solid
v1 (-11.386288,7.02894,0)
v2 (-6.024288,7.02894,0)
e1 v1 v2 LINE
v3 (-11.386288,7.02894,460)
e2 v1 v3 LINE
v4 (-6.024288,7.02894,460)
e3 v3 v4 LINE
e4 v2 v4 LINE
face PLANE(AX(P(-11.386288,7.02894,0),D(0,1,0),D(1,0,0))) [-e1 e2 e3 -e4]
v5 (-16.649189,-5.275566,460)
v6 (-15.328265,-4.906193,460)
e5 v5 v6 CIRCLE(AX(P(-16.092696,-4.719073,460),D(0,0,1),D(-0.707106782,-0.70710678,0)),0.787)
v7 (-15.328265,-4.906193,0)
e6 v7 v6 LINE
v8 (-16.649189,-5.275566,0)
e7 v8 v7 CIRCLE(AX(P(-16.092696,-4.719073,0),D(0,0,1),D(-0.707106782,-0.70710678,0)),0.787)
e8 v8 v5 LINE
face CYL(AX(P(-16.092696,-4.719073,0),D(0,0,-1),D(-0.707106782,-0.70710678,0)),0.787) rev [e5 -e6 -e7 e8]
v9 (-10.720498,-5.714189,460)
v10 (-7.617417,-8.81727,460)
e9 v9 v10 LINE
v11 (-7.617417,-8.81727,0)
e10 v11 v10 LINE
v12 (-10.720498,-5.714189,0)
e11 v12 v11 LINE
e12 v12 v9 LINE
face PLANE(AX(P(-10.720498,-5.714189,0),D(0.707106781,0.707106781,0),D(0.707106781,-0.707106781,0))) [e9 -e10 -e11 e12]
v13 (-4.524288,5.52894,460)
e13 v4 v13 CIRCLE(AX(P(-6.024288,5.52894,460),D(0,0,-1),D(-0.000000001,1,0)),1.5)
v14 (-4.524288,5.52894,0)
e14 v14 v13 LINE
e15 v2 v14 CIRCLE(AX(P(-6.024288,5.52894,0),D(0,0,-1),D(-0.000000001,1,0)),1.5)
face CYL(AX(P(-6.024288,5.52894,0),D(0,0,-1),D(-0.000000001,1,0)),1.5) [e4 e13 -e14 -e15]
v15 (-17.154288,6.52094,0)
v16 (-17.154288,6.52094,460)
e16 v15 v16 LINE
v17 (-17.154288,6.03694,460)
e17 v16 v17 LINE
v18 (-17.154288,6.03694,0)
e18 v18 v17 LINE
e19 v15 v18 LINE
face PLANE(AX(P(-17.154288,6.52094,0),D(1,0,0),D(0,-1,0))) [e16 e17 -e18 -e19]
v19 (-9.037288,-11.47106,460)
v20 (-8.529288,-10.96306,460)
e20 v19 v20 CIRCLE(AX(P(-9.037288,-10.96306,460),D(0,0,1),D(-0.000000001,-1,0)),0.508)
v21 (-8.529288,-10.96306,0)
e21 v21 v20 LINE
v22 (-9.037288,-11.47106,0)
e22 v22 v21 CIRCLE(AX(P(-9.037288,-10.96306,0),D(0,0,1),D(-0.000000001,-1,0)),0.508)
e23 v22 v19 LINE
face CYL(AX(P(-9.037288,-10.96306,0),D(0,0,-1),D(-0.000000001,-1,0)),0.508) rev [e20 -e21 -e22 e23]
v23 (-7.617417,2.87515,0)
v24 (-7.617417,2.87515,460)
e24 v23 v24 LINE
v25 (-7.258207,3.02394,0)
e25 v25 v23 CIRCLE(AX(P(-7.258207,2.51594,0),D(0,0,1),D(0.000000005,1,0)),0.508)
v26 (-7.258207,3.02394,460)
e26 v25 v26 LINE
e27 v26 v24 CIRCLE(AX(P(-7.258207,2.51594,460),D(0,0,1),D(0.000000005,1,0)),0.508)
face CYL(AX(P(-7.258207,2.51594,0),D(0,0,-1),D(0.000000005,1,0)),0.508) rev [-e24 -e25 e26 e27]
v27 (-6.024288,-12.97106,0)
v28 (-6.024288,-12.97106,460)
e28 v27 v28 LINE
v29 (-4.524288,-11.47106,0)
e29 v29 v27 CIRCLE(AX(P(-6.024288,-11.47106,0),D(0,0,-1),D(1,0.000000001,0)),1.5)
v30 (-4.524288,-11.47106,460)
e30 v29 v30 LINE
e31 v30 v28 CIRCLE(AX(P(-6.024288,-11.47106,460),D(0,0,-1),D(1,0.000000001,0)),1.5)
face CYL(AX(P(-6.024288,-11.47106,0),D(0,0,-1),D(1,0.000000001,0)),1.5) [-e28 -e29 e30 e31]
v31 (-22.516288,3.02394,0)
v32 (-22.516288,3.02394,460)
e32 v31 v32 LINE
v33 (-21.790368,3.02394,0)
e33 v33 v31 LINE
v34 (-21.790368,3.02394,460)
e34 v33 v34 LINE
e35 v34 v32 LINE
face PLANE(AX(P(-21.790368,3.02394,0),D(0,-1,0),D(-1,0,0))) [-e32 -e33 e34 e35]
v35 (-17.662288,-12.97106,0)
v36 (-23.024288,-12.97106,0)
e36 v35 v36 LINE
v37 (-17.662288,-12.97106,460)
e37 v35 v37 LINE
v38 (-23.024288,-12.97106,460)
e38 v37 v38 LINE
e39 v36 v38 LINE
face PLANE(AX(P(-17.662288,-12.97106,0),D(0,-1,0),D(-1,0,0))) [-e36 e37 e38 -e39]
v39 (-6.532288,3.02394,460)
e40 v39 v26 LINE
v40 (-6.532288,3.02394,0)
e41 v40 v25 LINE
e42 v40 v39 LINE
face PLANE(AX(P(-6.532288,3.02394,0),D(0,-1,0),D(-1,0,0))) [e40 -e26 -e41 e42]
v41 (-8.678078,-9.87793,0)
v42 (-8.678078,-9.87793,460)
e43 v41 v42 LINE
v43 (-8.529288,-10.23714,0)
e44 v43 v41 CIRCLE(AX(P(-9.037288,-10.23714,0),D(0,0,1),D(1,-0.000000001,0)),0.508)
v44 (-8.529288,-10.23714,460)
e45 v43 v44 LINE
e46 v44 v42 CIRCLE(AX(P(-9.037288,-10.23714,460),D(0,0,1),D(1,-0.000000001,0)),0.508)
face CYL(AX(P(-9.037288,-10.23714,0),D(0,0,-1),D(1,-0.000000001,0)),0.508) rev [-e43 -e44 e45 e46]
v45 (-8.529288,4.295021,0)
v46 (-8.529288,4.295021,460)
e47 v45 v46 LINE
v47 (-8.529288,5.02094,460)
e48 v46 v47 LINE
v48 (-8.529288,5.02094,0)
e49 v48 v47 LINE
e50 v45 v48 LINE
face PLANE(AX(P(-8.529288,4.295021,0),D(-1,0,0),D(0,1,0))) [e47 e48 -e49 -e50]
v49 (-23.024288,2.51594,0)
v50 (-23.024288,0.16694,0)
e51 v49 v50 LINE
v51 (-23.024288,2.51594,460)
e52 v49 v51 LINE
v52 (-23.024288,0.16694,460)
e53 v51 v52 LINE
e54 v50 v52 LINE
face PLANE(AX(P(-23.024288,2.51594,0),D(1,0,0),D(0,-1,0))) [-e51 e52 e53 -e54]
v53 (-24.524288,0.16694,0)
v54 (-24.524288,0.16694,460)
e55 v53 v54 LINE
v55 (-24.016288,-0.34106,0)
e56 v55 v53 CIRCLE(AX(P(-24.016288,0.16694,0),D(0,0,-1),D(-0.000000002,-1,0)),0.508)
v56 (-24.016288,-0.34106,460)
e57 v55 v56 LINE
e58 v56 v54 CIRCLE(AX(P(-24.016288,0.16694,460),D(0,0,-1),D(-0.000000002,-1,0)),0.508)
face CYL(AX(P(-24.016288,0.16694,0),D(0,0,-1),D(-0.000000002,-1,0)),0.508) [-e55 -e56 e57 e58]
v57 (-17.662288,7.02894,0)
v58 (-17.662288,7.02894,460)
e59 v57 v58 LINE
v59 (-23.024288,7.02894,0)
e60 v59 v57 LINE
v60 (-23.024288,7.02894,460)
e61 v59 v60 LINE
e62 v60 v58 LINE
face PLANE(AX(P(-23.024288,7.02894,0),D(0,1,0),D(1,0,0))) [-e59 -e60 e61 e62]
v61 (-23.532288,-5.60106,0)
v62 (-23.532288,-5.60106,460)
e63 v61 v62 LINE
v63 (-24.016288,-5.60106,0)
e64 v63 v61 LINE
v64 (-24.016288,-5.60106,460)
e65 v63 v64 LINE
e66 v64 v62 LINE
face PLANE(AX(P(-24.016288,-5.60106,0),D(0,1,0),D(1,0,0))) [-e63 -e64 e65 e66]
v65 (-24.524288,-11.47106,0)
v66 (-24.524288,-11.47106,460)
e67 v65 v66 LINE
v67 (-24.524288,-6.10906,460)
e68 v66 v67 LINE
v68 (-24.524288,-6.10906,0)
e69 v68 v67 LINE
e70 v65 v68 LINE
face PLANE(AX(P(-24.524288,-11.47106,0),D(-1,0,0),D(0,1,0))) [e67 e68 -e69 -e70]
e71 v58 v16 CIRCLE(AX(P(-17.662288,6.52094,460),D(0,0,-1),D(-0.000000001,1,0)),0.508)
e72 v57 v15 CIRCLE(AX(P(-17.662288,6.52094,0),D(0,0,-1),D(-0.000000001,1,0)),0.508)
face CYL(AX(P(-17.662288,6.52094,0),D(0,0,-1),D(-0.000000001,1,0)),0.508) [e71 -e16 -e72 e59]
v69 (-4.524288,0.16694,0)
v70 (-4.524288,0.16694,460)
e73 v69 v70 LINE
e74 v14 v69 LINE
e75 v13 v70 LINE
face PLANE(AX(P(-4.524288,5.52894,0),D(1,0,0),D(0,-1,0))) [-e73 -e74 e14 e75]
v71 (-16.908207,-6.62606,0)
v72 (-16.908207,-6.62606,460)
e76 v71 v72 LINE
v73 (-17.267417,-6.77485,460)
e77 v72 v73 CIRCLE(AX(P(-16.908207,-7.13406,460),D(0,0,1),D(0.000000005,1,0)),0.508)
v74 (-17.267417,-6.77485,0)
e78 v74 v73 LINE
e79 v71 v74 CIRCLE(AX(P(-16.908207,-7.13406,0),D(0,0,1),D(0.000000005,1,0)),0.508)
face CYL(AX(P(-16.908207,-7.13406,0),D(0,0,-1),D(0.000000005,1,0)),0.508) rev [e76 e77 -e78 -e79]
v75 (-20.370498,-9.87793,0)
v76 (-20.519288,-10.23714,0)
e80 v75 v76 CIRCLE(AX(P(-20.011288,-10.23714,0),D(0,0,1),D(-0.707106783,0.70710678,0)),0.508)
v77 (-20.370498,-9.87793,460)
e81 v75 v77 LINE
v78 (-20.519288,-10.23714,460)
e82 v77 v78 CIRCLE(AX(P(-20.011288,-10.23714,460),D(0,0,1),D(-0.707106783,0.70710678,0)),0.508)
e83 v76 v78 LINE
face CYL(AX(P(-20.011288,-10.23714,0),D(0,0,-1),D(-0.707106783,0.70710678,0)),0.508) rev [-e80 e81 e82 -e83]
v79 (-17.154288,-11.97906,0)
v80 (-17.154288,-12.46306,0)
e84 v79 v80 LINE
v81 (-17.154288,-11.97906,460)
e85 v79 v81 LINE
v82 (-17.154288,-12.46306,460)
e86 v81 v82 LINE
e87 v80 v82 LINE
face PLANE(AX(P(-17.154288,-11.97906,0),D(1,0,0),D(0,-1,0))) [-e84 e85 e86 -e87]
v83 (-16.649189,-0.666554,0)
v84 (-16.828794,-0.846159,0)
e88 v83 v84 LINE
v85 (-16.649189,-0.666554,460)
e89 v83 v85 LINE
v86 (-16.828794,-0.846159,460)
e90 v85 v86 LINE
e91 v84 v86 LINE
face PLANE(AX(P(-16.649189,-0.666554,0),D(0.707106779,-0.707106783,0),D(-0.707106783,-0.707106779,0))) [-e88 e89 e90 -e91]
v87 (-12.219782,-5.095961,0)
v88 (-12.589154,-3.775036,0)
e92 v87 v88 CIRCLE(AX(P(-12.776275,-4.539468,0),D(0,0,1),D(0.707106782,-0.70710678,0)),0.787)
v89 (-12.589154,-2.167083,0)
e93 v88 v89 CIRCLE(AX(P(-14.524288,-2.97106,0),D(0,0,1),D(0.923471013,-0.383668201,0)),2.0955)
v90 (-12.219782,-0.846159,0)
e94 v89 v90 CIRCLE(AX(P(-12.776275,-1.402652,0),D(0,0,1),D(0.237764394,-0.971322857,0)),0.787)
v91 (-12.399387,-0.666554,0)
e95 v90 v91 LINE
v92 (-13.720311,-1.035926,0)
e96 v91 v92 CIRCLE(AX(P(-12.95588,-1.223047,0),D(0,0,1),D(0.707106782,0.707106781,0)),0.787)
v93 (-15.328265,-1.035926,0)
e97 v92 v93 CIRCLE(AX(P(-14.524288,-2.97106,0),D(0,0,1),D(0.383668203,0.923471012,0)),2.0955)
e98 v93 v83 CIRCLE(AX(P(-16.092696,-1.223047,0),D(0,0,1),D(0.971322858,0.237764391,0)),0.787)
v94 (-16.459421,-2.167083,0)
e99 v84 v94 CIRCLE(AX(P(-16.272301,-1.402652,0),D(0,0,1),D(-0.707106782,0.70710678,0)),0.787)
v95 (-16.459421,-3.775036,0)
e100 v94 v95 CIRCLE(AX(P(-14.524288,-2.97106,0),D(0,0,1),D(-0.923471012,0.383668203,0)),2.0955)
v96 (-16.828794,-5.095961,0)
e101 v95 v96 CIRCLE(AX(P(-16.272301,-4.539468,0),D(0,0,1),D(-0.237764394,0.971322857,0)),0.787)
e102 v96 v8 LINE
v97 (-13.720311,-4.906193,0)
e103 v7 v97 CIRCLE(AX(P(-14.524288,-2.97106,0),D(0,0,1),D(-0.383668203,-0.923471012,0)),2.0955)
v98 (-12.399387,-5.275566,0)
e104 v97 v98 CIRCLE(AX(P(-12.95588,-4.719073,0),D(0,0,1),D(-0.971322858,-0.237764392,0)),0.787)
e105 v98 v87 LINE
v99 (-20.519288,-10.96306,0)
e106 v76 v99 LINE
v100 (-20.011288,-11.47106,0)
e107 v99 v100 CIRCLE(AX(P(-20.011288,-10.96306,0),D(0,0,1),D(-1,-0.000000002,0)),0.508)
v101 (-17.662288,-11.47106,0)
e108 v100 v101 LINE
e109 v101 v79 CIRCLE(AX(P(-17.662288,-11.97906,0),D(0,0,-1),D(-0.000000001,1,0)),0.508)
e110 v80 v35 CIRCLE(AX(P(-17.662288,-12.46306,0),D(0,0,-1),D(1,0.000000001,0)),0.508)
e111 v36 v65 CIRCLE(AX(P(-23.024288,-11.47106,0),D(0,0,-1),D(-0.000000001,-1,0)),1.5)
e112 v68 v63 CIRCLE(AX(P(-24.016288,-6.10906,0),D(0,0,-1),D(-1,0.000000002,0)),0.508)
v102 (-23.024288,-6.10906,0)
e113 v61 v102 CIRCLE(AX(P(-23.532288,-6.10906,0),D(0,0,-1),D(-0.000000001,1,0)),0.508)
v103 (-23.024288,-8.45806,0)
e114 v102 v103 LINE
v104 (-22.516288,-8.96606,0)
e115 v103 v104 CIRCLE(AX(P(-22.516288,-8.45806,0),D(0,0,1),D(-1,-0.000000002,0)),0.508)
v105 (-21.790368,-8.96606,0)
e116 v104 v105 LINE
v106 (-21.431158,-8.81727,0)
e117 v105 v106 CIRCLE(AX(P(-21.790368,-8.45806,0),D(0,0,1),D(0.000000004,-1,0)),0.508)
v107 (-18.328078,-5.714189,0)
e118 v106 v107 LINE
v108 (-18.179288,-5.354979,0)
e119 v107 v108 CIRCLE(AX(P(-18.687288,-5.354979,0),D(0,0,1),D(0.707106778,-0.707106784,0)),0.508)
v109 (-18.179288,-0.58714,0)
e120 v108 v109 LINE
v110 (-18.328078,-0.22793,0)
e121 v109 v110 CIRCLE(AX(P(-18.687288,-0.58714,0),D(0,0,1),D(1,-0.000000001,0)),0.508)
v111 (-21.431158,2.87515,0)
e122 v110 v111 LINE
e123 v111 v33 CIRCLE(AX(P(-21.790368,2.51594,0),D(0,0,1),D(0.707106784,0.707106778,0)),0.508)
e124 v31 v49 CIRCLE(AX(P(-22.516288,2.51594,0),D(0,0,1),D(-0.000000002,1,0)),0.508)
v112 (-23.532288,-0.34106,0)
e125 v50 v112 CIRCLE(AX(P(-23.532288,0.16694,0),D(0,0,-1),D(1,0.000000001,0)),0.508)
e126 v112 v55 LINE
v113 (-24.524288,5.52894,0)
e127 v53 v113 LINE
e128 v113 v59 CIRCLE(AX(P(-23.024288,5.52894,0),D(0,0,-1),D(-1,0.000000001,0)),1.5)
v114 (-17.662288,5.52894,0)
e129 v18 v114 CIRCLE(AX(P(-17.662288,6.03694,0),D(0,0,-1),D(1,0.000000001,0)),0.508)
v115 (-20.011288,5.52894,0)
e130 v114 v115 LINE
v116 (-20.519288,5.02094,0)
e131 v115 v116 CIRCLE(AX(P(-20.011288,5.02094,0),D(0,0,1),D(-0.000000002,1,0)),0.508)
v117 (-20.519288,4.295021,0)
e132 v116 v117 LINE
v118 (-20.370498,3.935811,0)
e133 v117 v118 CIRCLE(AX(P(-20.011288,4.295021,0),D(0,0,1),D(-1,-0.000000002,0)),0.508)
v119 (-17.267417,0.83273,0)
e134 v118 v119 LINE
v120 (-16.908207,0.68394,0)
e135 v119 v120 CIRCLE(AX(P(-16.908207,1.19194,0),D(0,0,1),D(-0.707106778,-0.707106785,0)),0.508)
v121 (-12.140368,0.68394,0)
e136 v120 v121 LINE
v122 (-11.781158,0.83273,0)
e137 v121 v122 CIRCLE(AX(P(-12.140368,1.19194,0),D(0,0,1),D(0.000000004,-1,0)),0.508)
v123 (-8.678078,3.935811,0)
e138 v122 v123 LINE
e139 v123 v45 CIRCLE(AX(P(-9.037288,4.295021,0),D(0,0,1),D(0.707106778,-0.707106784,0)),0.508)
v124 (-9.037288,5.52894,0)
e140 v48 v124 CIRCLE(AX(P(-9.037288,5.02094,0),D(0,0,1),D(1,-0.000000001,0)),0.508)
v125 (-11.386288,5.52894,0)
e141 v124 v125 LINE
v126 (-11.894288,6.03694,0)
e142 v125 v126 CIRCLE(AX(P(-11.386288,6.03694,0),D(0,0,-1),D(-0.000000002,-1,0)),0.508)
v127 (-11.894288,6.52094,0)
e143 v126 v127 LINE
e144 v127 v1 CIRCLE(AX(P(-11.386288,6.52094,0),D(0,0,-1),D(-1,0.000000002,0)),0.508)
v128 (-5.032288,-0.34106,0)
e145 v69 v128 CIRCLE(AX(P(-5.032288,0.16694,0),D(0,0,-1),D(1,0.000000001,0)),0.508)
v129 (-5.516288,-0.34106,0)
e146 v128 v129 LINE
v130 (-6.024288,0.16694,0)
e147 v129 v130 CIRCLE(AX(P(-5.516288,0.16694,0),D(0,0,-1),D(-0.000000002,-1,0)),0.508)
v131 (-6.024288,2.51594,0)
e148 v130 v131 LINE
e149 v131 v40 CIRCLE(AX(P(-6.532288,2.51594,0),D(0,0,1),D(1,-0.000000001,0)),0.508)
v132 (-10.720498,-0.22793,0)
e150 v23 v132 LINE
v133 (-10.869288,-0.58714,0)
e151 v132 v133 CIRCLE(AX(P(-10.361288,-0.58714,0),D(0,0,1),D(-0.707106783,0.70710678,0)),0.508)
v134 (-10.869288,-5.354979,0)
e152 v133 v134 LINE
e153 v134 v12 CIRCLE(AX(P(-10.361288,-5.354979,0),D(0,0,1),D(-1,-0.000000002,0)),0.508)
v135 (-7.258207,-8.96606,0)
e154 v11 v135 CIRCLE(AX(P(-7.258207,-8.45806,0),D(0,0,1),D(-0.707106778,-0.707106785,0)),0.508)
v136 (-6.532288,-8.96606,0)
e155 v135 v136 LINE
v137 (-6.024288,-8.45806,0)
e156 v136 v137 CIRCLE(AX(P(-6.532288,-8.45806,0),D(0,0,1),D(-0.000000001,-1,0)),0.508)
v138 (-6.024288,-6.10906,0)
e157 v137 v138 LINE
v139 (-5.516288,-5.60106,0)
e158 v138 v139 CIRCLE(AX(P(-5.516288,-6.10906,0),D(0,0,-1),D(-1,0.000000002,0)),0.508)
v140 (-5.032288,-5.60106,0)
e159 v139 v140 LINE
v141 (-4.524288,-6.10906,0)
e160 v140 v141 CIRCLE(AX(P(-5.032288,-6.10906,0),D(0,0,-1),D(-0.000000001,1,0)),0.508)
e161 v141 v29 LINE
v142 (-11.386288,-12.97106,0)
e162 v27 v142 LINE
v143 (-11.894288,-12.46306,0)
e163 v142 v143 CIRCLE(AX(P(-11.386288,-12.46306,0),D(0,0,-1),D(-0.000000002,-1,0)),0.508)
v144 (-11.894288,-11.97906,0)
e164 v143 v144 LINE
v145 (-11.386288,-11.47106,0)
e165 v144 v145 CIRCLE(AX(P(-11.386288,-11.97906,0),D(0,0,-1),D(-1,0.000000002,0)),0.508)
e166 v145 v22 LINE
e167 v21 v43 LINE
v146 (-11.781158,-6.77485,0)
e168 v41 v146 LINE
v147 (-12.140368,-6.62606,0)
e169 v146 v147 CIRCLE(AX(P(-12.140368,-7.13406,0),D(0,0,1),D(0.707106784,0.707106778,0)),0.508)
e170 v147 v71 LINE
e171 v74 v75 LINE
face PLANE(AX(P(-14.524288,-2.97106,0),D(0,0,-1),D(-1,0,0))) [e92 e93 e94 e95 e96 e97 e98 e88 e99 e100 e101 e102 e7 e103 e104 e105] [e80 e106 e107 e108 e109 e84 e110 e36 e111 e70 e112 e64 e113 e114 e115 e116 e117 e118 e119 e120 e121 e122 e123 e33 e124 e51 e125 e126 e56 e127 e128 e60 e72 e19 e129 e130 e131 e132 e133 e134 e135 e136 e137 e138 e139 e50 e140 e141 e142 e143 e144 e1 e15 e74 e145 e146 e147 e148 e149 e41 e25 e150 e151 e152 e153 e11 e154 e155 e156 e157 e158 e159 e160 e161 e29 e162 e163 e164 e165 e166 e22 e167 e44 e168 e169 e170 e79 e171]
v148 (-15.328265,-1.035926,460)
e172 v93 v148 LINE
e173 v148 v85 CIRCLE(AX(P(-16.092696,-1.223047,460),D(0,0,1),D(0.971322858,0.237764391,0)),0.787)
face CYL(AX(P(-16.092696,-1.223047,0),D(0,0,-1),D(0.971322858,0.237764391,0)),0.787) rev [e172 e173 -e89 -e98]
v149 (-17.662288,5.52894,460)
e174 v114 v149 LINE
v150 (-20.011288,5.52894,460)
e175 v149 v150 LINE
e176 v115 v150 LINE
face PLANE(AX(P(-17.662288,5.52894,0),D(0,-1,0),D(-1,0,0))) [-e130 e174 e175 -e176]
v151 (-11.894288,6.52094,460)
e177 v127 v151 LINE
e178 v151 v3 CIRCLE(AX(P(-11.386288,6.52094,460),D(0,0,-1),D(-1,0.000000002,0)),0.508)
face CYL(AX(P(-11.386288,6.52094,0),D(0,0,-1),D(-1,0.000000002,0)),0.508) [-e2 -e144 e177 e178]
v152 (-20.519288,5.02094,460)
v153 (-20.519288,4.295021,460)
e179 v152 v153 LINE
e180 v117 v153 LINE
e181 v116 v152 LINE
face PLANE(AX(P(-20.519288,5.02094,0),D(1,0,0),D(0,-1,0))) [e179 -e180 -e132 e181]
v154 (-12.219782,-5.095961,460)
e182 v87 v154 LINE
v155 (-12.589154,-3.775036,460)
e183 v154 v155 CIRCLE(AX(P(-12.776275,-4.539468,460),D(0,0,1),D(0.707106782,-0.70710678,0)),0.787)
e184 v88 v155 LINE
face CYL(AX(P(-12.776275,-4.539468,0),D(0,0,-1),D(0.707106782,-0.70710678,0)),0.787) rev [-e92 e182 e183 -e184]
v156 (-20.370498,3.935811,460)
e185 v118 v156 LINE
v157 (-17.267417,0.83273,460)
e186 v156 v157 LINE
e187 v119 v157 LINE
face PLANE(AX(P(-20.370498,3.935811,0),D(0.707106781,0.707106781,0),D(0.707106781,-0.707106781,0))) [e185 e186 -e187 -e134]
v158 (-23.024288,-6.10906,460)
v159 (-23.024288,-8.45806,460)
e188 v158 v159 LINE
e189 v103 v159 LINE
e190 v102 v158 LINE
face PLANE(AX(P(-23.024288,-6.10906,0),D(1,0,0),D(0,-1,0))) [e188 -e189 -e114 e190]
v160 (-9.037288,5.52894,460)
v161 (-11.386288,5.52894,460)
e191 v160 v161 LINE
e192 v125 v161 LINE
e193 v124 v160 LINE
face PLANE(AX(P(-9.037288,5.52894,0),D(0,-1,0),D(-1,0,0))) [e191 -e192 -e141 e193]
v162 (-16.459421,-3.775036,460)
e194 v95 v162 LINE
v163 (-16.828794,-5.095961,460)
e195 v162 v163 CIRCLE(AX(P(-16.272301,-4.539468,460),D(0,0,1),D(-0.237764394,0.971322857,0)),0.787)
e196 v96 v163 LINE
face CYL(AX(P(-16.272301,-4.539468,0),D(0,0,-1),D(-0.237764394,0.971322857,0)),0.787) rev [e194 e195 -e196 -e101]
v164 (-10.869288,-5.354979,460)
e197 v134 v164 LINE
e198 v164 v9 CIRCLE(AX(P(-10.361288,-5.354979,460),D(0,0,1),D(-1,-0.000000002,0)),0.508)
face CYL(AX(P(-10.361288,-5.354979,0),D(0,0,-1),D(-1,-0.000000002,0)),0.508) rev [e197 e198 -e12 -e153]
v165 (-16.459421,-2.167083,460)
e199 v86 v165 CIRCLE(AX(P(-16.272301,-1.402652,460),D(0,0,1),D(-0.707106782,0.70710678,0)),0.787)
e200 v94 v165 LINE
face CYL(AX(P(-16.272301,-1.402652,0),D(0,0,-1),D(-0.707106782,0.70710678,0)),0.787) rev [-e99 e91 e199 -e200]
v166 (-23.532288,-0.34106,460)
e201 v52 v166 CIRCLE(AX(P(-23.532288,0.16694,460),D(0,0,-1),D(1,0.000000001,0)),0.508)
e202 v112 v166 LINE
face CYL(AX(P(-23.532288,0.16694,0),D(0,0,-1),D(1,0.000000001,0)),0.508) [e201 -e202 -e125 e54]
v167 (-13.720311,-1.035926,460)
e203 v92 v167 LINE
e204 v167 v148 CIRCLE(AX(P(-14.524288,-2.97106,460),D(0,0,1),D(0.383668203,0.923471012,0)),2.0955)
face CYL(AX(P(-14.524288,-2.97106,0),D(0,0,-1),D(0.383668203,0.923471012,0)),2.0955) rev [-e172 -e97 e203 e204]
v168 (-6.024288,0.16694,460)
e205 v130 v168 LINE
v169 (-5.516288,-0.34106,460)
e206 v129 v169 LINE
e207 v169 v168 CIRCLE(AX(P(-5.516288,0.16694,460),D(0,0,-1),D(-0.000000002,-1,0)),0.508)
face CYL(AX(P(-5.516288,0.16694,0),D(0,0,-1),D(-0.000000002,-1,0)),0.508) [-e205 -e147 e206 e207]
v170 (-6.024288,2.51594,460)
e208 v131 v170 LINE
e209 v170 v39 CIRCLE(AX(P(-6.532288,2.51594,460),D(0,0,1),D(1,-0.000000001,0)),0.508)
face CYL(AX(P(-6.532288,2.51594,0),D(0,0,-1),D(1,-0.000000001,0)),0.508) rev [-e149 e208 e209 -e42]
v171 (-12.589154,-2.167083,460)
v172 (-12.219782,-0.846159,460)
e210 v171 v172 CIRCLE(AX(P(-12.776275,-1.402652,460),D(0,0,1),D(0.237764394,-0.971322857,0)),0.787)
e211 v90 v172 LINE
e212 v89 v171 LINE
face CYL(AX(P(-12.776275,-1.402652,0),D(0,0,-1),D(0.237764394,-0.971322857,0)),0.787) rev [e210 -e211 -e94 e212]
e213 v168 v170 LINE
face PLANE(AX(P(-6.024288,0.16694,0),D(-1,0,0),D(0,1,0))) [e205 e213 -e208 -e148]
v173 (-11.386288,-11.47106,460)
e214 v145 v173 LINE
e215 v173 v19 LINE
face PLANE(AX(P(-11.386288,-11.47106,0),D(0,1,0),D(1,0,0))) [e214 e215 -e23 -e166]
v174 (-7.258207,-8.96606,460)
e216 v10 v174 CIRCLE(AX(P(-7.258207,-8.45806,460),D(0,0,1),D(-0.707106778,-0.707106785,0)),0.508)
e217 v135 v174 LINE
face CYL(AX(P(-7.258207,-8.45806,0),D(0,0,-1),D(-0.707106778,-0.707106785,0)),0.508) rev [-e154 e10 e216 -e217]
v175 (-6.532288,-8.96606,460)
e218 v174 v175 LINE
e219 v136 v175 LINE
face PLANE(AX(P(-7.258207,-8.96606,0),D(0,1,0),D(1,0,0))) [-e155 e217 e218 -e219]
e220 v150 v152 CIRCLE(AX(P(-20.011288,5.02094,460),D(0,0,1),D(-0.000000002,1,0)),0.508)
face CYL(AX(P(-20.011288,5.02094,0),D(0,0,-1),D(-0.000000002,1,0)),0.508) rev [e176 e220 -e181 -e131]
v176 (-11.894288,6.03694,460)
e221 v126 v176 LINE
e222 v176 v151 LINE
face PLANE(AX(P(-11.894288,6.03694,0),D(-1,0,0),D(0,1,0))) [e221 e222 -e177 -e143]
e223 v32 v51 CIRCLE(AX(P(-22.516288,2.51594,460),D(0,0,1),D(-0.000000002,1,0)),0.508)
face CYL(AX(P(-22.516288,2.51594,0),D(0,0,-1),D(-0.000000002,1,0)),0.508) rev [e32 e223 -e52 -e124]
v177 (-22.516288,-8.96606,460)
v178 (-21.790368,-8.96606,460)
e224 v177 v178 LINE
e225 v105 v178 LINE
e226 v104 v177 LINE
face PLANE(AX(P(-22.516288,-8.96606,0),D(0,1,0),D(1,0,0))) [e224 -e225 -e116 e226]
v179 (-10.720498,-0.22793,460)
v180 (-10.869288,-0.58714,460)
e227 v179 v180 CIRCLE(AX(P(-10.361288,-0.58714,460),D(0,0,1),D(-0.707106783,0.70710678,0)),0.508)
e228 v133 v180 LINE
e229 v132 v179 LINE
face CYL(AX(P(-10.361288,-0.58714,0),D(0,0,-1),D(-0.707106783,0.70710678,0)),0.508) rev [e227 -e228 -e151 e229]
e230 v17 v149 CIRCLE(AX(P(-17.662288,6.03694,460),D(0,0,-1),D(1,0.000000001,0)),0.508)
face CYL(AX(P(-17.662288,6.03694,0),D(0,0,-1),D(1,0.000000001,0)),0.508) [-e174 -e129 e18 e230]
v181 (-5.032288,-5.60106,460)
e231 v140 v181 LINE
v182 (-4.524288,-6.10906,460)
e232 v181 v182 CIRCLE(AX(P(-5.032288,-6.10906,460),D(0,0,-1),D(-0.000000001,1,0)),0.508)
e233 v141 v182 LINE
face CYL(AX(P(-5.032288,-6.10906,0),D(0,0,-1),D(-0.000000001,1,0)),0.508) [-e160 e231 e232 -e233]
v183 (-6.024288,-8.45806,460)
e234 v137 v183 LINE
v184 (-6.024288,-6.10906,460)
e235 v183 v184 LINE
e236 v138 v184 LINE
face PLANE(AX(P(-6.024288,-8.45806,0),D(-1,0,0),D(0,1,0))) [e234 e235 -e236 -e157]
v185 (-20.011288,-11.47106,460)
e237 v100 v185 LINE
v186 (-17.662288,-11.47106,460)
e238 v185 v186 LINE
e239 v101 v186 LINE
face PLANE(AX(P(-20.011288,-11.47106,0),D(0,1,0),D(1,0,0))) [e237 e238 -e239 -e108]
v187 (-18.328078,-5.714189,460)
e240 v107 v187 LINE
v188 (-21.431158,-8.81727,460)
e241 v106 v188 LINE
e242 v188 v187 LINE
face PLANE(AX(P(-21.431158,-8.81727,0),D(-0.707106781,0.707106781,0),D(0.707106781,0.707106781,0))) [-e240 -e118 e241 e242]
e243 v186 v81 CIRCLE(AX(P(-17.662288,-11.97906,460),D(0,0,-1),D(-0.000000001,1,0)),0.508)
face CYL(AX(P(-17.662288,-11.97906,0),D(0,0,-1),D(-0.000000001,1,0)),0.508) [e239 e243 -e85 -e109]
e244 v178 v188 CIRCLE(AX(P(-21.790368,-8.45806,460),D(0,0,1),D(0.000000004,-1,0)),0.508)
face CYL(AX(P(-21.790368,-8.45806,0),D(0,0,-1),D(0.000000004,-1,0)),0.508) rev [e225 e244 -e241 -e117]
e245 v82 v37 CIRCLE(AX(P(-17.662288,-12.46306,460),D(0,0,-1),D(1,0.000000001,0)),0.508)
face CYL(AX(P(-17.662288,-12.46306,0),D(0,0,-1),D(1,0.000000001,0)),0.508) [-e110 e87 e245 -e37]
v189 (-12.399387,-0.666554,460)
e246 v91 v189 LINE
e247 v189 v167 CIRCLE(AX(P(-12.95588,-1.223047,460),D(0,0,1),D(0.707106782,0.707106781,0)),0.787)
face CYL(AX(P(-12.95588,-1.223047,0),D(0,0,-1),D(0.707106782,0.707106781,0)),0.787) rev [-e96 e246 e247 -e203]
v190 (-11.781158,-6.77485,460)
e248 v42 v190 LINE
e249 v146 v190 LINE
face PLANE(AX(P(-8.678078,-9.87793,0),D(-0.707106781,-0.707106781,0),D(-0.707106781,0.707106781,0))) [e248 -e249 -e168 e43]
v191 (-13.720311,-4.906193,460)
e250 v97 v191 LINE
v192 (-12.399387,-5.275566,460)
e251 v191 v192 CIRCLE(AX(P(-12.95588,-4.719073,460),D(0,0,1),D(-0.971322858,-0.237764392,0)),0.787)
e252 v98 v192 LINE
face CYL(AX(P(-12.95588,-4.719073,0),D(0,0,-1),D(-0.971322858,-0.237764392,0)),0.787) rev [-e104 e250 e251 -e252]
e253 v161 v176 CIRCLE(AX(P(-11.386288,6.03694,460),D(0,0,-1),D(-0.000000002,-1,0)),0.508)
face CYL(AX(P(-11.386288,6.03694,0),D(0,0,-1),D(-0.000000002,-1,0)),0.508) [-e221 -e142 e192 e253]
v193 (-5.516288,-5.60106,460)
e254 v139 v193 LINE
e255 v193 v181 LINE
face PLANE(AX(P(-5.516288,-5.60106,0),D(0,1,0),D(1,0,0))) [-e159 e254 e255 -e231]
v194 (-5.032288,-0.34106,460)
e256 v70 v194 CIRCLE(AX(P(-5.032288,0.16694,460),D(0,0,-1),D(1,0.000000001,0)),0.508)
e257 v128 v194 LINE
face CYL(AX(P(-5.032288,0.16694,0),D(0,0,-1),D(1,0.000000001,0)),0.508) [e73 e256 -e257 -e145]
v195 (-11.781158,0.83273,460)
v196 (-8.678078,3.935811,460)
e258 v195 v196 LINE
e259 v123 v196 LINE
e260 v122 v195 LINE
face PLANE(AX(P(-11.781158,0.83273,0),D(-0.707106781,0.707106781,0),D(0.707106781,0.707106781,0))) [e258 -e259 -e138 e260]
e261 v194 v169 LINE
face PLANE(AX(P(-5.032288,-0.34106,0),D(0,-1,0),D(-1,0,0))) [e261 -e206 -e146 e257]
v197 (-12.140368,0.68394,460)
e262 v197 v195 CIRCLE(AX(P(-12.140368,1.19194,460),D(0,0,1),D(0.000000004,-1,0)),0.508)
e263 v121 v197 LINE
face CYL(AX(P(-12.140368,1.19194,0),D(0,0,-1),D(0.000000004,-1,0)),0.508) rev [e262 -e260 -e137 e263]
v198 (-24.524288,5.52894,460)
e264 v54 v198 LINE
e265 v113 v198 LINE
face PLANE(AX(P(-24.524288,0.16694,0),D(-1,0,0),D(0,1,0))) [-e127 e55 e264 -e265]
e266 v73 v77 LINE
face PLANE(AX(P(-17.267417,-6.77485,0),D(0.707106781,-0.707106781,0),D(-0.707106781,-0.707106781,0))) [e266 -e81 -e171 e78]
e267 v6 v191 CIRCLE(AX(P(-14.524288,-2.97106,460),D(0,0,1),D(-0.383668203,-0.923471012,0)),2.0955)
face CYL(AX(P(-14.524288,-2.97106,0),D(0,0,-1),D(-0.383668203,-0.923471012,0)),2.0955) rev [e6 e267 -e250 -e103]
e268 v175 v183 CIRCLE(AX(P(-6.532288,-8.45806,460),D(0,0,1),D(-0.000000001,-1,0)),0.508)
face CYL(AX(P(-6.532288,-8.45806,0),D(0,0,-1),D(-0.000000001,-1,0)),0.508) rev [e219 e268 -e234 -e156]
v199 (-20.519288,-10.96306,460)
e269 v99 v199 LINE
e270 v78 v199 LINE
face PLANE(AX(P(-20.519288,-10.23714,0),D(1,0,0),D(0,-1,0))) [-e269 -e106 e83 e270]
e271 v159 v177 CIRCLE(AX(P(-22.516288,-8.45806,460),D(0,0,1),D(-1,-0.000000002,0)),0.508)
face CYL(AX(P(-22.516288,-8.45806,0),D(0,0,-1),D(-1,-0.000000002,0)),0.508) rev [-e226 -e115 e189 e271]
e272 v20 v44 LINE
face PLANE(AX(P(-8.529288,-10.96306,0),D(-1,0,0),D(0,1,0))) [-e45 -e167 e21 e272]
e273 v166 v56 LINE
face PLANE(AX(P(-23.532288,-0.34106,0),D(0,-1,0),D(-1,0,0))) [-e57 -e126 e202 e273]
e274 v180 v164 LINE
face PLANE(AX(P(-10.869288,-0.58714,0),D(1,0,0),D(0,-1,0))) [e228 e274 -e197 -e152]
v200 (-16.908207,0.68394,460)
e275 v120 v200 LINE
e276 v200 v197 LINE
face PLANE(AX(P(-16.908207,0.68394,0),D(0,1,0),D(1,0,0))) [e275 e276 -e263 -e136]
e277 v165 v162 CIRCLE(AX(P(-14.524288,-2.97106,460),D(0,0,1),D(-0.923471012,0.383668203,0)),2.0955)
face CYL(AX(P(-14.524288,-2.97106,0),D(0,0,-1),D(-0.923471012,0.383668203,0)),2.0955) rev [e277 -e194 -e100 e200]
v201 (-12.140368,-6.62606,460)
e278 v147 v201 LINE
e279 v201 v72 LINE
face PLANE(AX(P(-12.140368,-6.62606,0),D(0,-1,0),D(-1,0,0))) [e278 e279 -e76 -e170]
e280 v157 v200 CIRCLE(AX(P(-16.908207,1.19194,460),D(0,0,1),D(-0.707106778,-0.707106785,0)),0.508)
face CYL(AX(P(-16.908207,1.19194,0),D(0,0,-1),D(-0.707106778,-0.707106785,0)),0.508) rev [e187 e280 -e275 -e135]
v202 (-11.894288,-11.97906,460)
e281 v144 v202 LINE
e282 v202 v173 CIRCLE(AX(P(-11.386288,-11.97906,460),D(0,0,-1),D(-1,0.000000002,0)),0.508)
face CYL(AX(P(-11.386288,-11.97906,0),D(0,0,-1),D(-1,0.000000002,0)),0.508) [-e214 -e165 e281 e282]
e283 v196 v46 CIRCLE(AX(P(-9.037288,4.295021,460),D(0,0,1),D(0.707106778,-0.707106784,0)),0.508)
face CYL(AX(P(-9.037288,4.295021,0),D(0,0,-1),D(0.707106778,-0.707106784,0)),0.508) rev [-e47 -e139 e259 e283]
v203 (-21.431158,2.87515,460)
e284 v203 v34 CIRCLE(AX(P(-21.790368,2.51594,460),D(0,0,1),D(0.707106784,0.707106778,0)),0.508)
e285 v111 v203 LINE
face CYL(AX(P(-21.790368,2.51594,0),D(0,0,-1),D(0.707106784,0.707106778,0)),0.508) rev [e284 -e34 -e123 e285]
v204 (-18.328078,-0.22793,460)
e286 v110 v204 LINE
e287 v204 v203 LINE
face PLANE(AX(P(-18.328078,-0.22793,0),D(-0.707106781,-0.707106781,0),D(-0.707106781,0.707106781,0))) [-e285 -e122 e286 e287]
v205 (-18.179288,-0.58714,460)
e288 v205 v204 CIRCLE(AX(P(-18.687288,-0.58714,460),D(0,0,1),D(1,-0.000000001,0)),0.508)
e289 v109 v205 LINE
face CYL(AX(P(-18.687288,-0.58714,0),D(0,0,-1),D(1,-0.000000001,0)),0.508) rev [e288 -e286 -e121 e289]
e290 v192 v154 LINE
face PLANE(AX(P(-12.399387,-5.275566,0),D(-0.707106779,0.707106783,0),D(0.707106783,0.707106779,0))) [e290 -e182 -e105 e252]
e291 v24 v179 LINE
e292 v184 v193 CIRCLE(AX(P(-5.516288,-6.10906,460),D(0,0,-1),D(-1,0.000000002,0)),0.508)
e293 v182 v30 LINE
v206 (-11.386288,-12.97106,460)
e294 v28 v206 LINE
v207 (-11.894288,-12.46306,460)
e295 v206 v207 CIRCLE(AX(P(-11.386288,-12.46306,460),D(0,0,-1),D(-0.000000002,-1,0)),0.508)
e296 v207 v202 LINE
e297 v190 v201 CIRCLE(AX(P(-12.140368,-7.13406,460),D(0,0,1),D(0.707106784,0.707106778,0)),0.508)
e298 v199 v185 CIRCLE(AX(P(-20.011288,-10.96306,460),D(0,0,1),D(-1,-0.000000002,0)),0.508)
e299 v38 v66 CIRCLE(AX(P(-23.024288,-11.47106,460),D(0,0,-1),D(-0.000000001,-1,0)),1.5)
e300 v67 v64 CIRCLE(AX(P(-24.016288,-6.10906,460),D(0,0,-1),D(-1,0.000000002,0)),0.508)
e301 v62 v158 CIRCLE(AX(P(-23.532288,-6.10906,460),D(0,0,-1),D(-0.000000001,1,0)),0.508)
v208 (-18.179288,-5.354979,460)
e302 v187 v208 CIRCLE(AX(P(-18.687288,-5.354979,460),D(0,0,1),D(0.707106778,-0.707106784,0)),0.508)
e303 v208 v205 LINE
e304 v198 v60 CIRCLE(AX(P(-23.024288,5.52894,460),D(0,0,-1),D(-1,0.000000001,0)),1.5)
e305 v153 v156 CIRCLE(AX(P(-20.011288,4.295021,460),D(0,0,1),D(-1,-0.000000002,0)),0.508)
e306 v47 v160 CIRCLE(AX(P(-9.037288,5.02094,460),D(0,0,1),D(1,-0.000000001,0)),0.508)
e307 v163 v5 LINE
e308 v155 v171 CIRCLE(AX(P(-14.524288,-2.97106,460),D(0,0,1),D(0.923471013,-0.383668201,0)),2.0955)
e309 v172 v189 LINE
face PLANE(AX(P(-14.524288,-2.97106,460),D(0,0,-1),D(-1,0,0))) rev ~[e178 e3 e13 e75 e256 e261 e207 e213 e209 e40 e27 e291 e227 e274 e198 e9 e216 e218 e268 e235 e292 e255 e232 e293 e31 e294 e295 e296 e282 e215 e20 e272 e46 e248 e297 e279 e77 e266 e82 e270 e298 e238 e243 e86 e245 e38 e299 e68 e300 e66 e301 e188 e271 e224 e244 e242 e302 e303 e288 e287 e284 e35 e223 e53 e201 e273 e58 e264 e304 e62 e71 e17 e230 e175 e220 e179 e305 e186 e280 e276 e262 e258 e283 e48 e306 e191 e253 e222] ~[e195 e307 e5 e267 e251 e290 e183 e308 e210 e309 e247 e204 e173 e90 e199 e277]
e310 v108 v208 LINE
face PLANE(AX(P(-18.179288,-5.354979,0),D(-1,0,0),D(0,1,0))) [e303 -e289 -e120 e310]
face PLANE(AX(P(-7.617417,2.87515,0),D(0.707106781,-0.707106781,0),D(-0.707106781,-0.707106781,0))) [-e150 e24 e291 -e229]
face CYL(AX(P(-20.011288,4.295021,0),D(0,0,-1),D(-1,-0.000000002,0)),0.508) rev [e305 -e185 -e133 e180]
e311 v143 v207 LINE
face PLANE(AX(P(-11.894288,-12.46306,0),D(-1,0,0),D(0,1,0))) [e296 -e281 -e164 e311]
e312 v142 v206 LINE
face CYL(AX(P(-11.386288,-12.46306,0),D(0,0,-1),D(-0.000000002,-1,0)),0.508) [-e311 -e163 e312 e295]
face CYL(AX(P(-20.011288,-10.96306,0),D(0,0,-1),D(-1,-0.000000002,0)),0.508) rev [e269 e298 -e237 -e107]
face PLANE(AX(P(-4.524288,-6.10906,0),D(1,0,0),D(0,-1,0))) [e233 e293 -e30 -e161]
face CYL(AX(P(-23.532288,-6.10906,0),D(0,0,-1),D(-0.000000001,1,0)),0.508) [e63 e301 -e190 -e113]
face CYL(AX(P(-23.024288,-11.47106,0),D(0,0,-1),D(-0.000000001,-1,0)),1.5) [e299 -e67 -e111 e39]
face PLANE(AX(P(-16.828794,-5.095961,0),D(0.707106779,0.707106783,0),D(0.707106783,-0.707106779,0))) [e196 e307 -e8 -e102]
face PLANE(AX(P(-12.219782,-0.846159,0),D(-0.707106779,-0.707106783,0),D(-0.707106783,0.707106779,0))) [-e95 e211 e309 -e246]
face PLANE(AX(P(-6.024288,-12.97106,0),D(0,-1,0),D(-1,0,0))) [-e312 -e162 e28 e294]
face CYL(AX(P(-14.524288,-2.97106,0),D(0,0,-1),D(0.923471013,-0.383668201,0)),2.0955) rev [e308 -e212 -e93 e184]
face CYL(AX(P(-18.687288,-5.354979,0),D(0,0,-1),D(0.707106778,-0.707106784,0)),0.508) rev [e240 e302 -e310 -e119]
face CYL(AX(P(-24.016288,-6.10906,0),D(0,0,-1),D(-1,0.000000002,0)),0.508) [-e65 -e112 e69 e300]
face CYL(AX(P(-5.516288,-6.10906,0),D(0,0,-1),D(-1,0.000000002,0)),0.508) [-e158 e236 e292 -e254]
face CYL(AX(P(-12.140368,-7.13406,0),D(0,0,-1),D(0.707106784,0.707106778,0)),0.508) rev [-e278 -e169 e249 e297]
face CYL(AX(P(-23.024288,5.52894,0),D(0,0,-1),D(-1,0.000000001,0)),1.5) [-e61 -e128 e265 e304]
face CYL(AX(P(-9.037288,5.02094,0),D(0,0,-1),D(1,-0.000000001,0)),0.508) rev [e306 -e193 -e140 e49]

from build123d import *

# Parameters (mm, degrees)
EXTRUDE1_DEPTH = 460


with BuildPart() as part:
    # Sketch1 → Extrude1 (new body)
    with BuildSketch(Plane.XY):
        with BuildLine():
            Line((-5.032287798, -0.341059771), (-5.516287798, -0.341059771))
            ThreePointArc((-5.516287798, -0.341059771), (-5.875498042, -0.192270016), (-6.024287798, 0.166940229))
            Line((-6.024287798, 0.166940229), (-6.024287798, 2.515940229))
            ThreePointArc((-6.024287798, 2.515940229), (-6.173077553, 2.875150474), (-6.532287798, 3.023940229))
            Line((-6.532287798, 3.023940229), (-7.258207136, 3.023940229))
            ThreePointArc((-7.258207136, 3.023940229), (-7.45261032, 2.985271032), (-7.617417381, 2.875150474))
            Line((-7.617417381, 2.875150474), (-10.720498042, -0.227930187))
            ThreePointArc((-10.720498042, -0.227930187), (-10.8306186, -0.392737249), (-10.869287798, -0.587140432))
            Line((-10.869287798, -0.587140432), (-10.869287798, -5.354979109))
            ThreePointArc((-10.869287798, -5.354979109), (-10.8306186, -5.549382293), (-10.720498042, -5.714189354))
            Line((-10.720498042, -5.714189354), (-7.617417381, -8.817270016))
            ThreePointArc((-7.617417381, -8.817270016), (-7.45261032, -8.927390573), (-7.258207136, -8.966059771))
            Line((-7.258207136, -8.966059771), (-6.532287798, -8.966059771))
            ThreePointArc((-6.532287798, -8.966059771), (-6.173077553, -8.817270016), (-6.024287798, -8.458059771))
            Line((-6.024287798, -8.458059771), (-6.024287798, -6.109059771))
            ThreePointArc((-6.024287798, -6.109059771), (-5.875498042, -5.749849526), (-5.516287798, -5.601059771))
            Line((-5.516287798, -5.601059771), (-5.032287798, -5.601059771))
            ThreePointArc((-5.032287798, -5.601059771), (-4.673077553, -5.749849526), (-4.524287798, -6.109059771))
            Line((-4.524287798, -6.109059771), (-4.524287798, -11.471059771))
            ThreePointArc((-4.524287798, -11.471059771), (-4.963627626, -12.531719943), (-6.024287798, -12.971059771))
            Line((-6.024287798, -12.971059771), (-11.386287798, -12.971059771))
            ThreePointArc((-11.386287798, -12.971059771), (-11.745498042, -12.822270016), (-11.894287798, -12.463059771))
            Line((-11.894287798, -12.463059771), (-11.894287798, -11.979059771))
            ThreePointArc((-11.894287798, -11.979059771), (-11.745498042, -11.619849526), (-11.386287798, -11.471059771))
            Line((-11.386287798, -11.471059771), (-9.037287798, -11.471059771))
            ThreePointArc((-9.037287798, -11.471059771), (-8.678077553, -11.322270016), (-8.529287798, -10.963059771))
            Line((-8.529287798, -10.963059771), (-8.529287798, -10.237140432))
            ThreePointArc((-8.529287798, -10.237140432), (-8.567956995, -10.042737249), (-8.678077553, -9.877930187))
            Line((-8.678077553, -9.877930187), (-11.781158214, -6.774849526))
            ThreePointArc((-11.781158214, -6.774849526), (-11.945965275, -6.664728968), (-12.140368459, -6.626059771))
            Line((-12.140368459, -6.626059771), (-16.908207136, -6.626059771))
            ThreePointArc((-16.908207136, -6.626059771), (-17.10261032, -6.664728968), (-17.267417381, -6.774849526))
            Line((-17.267417381, -6.774849526), (-20.370498042, -9.877930187))
            ThreePointArc((-20.370498042, -9.877930187), (-20.4806186, -10.042737249), (-20.519287798, -10.237140432))
            Line((-20.519287798, -10.237140432), (-20.519287798, -10.963059771))
            ThreePointArc((-20.519287798, -10.963059771), (-20.370498042, -11.322270016), (-20.011287798, -11.471059771))
            Line((-20.011287798, -11.471059771), (-17.662287798, -11.471059771))
            ThreePointArc((-17.662287798, -11.471059771), (-17.303077553, -11.619849526), (-17.154287798, -11.979059771))
            Line((-17.154287798, -11.979059771), (-17.154287798, -12.463059771))
            ThreePointArc((-17.154287798, -12.463059771), (-17.303077553, -12.822270016), (-17.662287798, -12.971059771))
            Line((-17.662287798, -12.971059771), (-23.024287798, -12.971059771))
            ThreePointArc((-23.024287798, -12.971059771), (-24.084947969, -12.531719943), (-24.524287798, -11.471059771))
            Line((-24.524287798, -11.471059771), (-24.524287798, -6.109059771))
            ThreePointArc((-24.524287798, -6.109059771), (-24.375498042, -5.749849526), (-24.016287798, -5.601059771))
            Line((-24.016287798, -5.601059771), (-23.532287798, -5.601059771))
            ThreePointArc((-23.532287798, -5.601059771), (-23.173077553, -5.749849526), (-23.024287798, -6.109059771))
            Line((-23.024287798, -6.109059771), (-23.024287798, -8.458059771))
            ThreePointArc((-23.024287798, -8.458059771), (-22.875498042, -8.817270016), (-22.516287798, -8.966059771))
            Line((-22.516287798, -8.966059771), (-21.790368459, -8.966059771))
            ThreePointArc((-21.790368459, -8.966059771), (-21.595965275, -8.927390573), (-21.431158214, -8.817270016))
            Line((-21.431158214, -8.817270016), (-18.328077553, -5.714189354))
            ThreePointArc((-18.328077553, -5.714189354), (-18.217956995, -5.549382293), (-18.179287798, -5.354979109))
            Line((-18.179287798, -5.354979109), (-18.179287798, -0.587140432))
            ThreePointArc((-18.179287798, -0.587140432), (-18.217956995, -0.392737249), (-18.328077553, -0.227930187))
            Line((-18.328077553, -0.227930187), (-21.431158214, 2.875150474))
            ThreePointArc((-21.431158214, 2.875150474), (-21.595965275, 2.985271032), (-21.790368459, 3.023940229))
            Line((-21.790368459, 3.023940229), (-22.516287798, 3.023940229))
            ThreePointArc((-22.516287798, 3.023940229), (-22.875498042, 2.875150474), (-23.024287798, 2.515940229))
            Line((-23.024287798, 2.515940229), (-23.024287798, 0.166940229))
            ThreePointArc((-23.024287798, 0.166940229), (-23.173077553, -0.192270016), (-23.532287798, -0.341059771))
            Line((-23.532287798, -0.341059771), (-24.016287798, -0.341059771))
            ThreePointArc((-24.016287798, -0.341059771), (-24.375498042, -0.192270016), (-24.524287798, 0.166940229))
            Line((-24.524287798, 0.166940229), (-24.524287798, 5.528940229))
            ThreePointArc((-24.524287798, 5.528940229), (-24.084947969, 6.589600401), (-23.024287798, 7.028940229))
            Line((-23.024287798, 7.028940229), (-17.662287798, 7.028940229))
            ThreePointArc((-17.662287798, 7.028940229), (-17.303077553, 6.880150474), (-17.154287798, 6.520940229))
            Line((-17.154287798, 6.520940229), (-17.154287798, 6.036940229))
            ThreePointArc((-17.154287798, 6.036940229), (-17.303077553, 5.677729984), (-17.662287798, 5.528940229))
            Line((-17.662287798, 5.528940229), (-20.011287798, 5.528940229))
            ThreePointArc((-20.011287798, 5.528940229), (-20.370498042, 5.380150474), (-20.519287798, 5.020940229))
            Line((-20.519287798, 5.020940229), (-20.519287798, 4.295020891))
            ThreePointArc((-20.519287798, 4.295020891), (-20.4806186, 4.100617707), (-20.370498042, 3.935810646))
            Line((-20.370498042, 3.935810646), (-17.267417381, 0.832729984))
            ThreePointArc((-17.267417381, 0.832729984), (-17.10261032, 0.722609427), (-16.908207136, 0.683940229))
            Line((-16.908207136, 0.683940229), (-12.140368459, 0.683940229))
            ThreePointArc((-12.140368459, 0.683940229), (-11.945965275, 0.722609427), (-11.781158214, 0.832729984))
            Line((-11.781158214, 0.832729984), (-8.678077553, 3.935810646))
            ThreePointArc((-8.678077553, 3.935810646), (-8.567956995, 4.100617707), (-8.529287798, 4.295020891))
            Line((-8.529287798, 4.295020891), (-8.529287798, 5.020940229))
            ThreePointArc((-8.529287798, 5.020940229), (-8.678077553, 5.380150474), (-9.037287798, 5.528940229))
            Line((-9.037287798, 5.528940229), (-11.386287798, 5.528940229))
            ThreePointArc((-11.386287798, 5.528940229), (-11.745498042, 5.677729984), (-11.894287798, 6.036940229))
            Line((-11.894287798, 6.036940229), (-11.894287798, 6.520940229))
            ThreePointArc((-11.894287798, 6.520940229), (-11.745498042, 6.880150474), (-11.386287798, 7.028940229))
            Line((-11.386287798, 7.028940229), (-6.024287798, 7.028940229))
            ThreePointArc((-6.024287798, 7.028940229), (-4.963627626, 6.589600401), (-4.524287798, 5.528940229))
            Line((-4.524287798, 5.528940229), (-4.524287798, 0.166940229))
            ThreePointArc((-4.524287798, 0.166940229), (-4.673077553, -0.192270016), (-5.032287798, -0.341059771))
        make_face()
        with BuildLine():
            Line((-12.399386954, -5.275565737), (-12.219781831, -5.095960615))
            ThreePointArc((-12.219781831, -5.095960615), (-12.018349781, -4.327527582), (-12.589154291, -3.775036489))
            ThreePointArc((-12.589154291, -3.775036489), (-12.428787798, -2.971059771), (-12.589154291, -2.167083053))
            ThreePointArc((-12.589154291, -2.167083053), (-12.018349781, -1.61459196), (-12.219781831, -0.846158927))
            Line((-12.219781831, -0.846158927), (-12.399386954, -0.666553805))
            ThreePointArc((-12.399386954, -0.666553805), (-13.167819987, -0.465121754), (-13.72031108, -1.035926265))
            ThreePointArc((-13.72031108, -1.035926265), (-14.524287798, -0.875559771), (-15.328264516, -1.035926265))
            ThreePointArc((-15.328264516, -1.035926265), (-15.880755608, -0.465121754), (-16.649188641, -0.666553805))
            Line((-16.649188641, -0.666553805), (-16.828793764, -0.846158927))
            ThreePointArc((-16.828793764, -0.846158927), (-17.030225814, -1.61459196), (-16.459421304, -2.167083053))
            ThreePointArc((-16.459421304, -2.167083053), (-16.619787798, -2.971059771), (-16.459421304, -3.775036489))
            ThreePointArc((-16.459421304, -3.775036489), (-17.030225814, -4.327527582), (-16.828793764, -5.095960615))
            Line((-16.828793764, -5.095960615), (-16.649188641, -5.275565737))
            ThreePointArc((-16.649188641, -5.275565737), (-15.880755608, -5.476997788), (-15.328264516, -4.906193277))
            ThreePointArc((-15.328264516, -4.906193277), (-14.524287798, -5.066559771), (-13.72031108, -4.906193277))
            ThreePointArc((-13.72031108, -4.906193277), (-13.167819987, -5.476997788), (-12.399386954, -5.275565737))
        make_face(mode=Mode.SUBTRACT)
    extrude(amount=EXTRUDE1_DEPTH)


solid = part.part
